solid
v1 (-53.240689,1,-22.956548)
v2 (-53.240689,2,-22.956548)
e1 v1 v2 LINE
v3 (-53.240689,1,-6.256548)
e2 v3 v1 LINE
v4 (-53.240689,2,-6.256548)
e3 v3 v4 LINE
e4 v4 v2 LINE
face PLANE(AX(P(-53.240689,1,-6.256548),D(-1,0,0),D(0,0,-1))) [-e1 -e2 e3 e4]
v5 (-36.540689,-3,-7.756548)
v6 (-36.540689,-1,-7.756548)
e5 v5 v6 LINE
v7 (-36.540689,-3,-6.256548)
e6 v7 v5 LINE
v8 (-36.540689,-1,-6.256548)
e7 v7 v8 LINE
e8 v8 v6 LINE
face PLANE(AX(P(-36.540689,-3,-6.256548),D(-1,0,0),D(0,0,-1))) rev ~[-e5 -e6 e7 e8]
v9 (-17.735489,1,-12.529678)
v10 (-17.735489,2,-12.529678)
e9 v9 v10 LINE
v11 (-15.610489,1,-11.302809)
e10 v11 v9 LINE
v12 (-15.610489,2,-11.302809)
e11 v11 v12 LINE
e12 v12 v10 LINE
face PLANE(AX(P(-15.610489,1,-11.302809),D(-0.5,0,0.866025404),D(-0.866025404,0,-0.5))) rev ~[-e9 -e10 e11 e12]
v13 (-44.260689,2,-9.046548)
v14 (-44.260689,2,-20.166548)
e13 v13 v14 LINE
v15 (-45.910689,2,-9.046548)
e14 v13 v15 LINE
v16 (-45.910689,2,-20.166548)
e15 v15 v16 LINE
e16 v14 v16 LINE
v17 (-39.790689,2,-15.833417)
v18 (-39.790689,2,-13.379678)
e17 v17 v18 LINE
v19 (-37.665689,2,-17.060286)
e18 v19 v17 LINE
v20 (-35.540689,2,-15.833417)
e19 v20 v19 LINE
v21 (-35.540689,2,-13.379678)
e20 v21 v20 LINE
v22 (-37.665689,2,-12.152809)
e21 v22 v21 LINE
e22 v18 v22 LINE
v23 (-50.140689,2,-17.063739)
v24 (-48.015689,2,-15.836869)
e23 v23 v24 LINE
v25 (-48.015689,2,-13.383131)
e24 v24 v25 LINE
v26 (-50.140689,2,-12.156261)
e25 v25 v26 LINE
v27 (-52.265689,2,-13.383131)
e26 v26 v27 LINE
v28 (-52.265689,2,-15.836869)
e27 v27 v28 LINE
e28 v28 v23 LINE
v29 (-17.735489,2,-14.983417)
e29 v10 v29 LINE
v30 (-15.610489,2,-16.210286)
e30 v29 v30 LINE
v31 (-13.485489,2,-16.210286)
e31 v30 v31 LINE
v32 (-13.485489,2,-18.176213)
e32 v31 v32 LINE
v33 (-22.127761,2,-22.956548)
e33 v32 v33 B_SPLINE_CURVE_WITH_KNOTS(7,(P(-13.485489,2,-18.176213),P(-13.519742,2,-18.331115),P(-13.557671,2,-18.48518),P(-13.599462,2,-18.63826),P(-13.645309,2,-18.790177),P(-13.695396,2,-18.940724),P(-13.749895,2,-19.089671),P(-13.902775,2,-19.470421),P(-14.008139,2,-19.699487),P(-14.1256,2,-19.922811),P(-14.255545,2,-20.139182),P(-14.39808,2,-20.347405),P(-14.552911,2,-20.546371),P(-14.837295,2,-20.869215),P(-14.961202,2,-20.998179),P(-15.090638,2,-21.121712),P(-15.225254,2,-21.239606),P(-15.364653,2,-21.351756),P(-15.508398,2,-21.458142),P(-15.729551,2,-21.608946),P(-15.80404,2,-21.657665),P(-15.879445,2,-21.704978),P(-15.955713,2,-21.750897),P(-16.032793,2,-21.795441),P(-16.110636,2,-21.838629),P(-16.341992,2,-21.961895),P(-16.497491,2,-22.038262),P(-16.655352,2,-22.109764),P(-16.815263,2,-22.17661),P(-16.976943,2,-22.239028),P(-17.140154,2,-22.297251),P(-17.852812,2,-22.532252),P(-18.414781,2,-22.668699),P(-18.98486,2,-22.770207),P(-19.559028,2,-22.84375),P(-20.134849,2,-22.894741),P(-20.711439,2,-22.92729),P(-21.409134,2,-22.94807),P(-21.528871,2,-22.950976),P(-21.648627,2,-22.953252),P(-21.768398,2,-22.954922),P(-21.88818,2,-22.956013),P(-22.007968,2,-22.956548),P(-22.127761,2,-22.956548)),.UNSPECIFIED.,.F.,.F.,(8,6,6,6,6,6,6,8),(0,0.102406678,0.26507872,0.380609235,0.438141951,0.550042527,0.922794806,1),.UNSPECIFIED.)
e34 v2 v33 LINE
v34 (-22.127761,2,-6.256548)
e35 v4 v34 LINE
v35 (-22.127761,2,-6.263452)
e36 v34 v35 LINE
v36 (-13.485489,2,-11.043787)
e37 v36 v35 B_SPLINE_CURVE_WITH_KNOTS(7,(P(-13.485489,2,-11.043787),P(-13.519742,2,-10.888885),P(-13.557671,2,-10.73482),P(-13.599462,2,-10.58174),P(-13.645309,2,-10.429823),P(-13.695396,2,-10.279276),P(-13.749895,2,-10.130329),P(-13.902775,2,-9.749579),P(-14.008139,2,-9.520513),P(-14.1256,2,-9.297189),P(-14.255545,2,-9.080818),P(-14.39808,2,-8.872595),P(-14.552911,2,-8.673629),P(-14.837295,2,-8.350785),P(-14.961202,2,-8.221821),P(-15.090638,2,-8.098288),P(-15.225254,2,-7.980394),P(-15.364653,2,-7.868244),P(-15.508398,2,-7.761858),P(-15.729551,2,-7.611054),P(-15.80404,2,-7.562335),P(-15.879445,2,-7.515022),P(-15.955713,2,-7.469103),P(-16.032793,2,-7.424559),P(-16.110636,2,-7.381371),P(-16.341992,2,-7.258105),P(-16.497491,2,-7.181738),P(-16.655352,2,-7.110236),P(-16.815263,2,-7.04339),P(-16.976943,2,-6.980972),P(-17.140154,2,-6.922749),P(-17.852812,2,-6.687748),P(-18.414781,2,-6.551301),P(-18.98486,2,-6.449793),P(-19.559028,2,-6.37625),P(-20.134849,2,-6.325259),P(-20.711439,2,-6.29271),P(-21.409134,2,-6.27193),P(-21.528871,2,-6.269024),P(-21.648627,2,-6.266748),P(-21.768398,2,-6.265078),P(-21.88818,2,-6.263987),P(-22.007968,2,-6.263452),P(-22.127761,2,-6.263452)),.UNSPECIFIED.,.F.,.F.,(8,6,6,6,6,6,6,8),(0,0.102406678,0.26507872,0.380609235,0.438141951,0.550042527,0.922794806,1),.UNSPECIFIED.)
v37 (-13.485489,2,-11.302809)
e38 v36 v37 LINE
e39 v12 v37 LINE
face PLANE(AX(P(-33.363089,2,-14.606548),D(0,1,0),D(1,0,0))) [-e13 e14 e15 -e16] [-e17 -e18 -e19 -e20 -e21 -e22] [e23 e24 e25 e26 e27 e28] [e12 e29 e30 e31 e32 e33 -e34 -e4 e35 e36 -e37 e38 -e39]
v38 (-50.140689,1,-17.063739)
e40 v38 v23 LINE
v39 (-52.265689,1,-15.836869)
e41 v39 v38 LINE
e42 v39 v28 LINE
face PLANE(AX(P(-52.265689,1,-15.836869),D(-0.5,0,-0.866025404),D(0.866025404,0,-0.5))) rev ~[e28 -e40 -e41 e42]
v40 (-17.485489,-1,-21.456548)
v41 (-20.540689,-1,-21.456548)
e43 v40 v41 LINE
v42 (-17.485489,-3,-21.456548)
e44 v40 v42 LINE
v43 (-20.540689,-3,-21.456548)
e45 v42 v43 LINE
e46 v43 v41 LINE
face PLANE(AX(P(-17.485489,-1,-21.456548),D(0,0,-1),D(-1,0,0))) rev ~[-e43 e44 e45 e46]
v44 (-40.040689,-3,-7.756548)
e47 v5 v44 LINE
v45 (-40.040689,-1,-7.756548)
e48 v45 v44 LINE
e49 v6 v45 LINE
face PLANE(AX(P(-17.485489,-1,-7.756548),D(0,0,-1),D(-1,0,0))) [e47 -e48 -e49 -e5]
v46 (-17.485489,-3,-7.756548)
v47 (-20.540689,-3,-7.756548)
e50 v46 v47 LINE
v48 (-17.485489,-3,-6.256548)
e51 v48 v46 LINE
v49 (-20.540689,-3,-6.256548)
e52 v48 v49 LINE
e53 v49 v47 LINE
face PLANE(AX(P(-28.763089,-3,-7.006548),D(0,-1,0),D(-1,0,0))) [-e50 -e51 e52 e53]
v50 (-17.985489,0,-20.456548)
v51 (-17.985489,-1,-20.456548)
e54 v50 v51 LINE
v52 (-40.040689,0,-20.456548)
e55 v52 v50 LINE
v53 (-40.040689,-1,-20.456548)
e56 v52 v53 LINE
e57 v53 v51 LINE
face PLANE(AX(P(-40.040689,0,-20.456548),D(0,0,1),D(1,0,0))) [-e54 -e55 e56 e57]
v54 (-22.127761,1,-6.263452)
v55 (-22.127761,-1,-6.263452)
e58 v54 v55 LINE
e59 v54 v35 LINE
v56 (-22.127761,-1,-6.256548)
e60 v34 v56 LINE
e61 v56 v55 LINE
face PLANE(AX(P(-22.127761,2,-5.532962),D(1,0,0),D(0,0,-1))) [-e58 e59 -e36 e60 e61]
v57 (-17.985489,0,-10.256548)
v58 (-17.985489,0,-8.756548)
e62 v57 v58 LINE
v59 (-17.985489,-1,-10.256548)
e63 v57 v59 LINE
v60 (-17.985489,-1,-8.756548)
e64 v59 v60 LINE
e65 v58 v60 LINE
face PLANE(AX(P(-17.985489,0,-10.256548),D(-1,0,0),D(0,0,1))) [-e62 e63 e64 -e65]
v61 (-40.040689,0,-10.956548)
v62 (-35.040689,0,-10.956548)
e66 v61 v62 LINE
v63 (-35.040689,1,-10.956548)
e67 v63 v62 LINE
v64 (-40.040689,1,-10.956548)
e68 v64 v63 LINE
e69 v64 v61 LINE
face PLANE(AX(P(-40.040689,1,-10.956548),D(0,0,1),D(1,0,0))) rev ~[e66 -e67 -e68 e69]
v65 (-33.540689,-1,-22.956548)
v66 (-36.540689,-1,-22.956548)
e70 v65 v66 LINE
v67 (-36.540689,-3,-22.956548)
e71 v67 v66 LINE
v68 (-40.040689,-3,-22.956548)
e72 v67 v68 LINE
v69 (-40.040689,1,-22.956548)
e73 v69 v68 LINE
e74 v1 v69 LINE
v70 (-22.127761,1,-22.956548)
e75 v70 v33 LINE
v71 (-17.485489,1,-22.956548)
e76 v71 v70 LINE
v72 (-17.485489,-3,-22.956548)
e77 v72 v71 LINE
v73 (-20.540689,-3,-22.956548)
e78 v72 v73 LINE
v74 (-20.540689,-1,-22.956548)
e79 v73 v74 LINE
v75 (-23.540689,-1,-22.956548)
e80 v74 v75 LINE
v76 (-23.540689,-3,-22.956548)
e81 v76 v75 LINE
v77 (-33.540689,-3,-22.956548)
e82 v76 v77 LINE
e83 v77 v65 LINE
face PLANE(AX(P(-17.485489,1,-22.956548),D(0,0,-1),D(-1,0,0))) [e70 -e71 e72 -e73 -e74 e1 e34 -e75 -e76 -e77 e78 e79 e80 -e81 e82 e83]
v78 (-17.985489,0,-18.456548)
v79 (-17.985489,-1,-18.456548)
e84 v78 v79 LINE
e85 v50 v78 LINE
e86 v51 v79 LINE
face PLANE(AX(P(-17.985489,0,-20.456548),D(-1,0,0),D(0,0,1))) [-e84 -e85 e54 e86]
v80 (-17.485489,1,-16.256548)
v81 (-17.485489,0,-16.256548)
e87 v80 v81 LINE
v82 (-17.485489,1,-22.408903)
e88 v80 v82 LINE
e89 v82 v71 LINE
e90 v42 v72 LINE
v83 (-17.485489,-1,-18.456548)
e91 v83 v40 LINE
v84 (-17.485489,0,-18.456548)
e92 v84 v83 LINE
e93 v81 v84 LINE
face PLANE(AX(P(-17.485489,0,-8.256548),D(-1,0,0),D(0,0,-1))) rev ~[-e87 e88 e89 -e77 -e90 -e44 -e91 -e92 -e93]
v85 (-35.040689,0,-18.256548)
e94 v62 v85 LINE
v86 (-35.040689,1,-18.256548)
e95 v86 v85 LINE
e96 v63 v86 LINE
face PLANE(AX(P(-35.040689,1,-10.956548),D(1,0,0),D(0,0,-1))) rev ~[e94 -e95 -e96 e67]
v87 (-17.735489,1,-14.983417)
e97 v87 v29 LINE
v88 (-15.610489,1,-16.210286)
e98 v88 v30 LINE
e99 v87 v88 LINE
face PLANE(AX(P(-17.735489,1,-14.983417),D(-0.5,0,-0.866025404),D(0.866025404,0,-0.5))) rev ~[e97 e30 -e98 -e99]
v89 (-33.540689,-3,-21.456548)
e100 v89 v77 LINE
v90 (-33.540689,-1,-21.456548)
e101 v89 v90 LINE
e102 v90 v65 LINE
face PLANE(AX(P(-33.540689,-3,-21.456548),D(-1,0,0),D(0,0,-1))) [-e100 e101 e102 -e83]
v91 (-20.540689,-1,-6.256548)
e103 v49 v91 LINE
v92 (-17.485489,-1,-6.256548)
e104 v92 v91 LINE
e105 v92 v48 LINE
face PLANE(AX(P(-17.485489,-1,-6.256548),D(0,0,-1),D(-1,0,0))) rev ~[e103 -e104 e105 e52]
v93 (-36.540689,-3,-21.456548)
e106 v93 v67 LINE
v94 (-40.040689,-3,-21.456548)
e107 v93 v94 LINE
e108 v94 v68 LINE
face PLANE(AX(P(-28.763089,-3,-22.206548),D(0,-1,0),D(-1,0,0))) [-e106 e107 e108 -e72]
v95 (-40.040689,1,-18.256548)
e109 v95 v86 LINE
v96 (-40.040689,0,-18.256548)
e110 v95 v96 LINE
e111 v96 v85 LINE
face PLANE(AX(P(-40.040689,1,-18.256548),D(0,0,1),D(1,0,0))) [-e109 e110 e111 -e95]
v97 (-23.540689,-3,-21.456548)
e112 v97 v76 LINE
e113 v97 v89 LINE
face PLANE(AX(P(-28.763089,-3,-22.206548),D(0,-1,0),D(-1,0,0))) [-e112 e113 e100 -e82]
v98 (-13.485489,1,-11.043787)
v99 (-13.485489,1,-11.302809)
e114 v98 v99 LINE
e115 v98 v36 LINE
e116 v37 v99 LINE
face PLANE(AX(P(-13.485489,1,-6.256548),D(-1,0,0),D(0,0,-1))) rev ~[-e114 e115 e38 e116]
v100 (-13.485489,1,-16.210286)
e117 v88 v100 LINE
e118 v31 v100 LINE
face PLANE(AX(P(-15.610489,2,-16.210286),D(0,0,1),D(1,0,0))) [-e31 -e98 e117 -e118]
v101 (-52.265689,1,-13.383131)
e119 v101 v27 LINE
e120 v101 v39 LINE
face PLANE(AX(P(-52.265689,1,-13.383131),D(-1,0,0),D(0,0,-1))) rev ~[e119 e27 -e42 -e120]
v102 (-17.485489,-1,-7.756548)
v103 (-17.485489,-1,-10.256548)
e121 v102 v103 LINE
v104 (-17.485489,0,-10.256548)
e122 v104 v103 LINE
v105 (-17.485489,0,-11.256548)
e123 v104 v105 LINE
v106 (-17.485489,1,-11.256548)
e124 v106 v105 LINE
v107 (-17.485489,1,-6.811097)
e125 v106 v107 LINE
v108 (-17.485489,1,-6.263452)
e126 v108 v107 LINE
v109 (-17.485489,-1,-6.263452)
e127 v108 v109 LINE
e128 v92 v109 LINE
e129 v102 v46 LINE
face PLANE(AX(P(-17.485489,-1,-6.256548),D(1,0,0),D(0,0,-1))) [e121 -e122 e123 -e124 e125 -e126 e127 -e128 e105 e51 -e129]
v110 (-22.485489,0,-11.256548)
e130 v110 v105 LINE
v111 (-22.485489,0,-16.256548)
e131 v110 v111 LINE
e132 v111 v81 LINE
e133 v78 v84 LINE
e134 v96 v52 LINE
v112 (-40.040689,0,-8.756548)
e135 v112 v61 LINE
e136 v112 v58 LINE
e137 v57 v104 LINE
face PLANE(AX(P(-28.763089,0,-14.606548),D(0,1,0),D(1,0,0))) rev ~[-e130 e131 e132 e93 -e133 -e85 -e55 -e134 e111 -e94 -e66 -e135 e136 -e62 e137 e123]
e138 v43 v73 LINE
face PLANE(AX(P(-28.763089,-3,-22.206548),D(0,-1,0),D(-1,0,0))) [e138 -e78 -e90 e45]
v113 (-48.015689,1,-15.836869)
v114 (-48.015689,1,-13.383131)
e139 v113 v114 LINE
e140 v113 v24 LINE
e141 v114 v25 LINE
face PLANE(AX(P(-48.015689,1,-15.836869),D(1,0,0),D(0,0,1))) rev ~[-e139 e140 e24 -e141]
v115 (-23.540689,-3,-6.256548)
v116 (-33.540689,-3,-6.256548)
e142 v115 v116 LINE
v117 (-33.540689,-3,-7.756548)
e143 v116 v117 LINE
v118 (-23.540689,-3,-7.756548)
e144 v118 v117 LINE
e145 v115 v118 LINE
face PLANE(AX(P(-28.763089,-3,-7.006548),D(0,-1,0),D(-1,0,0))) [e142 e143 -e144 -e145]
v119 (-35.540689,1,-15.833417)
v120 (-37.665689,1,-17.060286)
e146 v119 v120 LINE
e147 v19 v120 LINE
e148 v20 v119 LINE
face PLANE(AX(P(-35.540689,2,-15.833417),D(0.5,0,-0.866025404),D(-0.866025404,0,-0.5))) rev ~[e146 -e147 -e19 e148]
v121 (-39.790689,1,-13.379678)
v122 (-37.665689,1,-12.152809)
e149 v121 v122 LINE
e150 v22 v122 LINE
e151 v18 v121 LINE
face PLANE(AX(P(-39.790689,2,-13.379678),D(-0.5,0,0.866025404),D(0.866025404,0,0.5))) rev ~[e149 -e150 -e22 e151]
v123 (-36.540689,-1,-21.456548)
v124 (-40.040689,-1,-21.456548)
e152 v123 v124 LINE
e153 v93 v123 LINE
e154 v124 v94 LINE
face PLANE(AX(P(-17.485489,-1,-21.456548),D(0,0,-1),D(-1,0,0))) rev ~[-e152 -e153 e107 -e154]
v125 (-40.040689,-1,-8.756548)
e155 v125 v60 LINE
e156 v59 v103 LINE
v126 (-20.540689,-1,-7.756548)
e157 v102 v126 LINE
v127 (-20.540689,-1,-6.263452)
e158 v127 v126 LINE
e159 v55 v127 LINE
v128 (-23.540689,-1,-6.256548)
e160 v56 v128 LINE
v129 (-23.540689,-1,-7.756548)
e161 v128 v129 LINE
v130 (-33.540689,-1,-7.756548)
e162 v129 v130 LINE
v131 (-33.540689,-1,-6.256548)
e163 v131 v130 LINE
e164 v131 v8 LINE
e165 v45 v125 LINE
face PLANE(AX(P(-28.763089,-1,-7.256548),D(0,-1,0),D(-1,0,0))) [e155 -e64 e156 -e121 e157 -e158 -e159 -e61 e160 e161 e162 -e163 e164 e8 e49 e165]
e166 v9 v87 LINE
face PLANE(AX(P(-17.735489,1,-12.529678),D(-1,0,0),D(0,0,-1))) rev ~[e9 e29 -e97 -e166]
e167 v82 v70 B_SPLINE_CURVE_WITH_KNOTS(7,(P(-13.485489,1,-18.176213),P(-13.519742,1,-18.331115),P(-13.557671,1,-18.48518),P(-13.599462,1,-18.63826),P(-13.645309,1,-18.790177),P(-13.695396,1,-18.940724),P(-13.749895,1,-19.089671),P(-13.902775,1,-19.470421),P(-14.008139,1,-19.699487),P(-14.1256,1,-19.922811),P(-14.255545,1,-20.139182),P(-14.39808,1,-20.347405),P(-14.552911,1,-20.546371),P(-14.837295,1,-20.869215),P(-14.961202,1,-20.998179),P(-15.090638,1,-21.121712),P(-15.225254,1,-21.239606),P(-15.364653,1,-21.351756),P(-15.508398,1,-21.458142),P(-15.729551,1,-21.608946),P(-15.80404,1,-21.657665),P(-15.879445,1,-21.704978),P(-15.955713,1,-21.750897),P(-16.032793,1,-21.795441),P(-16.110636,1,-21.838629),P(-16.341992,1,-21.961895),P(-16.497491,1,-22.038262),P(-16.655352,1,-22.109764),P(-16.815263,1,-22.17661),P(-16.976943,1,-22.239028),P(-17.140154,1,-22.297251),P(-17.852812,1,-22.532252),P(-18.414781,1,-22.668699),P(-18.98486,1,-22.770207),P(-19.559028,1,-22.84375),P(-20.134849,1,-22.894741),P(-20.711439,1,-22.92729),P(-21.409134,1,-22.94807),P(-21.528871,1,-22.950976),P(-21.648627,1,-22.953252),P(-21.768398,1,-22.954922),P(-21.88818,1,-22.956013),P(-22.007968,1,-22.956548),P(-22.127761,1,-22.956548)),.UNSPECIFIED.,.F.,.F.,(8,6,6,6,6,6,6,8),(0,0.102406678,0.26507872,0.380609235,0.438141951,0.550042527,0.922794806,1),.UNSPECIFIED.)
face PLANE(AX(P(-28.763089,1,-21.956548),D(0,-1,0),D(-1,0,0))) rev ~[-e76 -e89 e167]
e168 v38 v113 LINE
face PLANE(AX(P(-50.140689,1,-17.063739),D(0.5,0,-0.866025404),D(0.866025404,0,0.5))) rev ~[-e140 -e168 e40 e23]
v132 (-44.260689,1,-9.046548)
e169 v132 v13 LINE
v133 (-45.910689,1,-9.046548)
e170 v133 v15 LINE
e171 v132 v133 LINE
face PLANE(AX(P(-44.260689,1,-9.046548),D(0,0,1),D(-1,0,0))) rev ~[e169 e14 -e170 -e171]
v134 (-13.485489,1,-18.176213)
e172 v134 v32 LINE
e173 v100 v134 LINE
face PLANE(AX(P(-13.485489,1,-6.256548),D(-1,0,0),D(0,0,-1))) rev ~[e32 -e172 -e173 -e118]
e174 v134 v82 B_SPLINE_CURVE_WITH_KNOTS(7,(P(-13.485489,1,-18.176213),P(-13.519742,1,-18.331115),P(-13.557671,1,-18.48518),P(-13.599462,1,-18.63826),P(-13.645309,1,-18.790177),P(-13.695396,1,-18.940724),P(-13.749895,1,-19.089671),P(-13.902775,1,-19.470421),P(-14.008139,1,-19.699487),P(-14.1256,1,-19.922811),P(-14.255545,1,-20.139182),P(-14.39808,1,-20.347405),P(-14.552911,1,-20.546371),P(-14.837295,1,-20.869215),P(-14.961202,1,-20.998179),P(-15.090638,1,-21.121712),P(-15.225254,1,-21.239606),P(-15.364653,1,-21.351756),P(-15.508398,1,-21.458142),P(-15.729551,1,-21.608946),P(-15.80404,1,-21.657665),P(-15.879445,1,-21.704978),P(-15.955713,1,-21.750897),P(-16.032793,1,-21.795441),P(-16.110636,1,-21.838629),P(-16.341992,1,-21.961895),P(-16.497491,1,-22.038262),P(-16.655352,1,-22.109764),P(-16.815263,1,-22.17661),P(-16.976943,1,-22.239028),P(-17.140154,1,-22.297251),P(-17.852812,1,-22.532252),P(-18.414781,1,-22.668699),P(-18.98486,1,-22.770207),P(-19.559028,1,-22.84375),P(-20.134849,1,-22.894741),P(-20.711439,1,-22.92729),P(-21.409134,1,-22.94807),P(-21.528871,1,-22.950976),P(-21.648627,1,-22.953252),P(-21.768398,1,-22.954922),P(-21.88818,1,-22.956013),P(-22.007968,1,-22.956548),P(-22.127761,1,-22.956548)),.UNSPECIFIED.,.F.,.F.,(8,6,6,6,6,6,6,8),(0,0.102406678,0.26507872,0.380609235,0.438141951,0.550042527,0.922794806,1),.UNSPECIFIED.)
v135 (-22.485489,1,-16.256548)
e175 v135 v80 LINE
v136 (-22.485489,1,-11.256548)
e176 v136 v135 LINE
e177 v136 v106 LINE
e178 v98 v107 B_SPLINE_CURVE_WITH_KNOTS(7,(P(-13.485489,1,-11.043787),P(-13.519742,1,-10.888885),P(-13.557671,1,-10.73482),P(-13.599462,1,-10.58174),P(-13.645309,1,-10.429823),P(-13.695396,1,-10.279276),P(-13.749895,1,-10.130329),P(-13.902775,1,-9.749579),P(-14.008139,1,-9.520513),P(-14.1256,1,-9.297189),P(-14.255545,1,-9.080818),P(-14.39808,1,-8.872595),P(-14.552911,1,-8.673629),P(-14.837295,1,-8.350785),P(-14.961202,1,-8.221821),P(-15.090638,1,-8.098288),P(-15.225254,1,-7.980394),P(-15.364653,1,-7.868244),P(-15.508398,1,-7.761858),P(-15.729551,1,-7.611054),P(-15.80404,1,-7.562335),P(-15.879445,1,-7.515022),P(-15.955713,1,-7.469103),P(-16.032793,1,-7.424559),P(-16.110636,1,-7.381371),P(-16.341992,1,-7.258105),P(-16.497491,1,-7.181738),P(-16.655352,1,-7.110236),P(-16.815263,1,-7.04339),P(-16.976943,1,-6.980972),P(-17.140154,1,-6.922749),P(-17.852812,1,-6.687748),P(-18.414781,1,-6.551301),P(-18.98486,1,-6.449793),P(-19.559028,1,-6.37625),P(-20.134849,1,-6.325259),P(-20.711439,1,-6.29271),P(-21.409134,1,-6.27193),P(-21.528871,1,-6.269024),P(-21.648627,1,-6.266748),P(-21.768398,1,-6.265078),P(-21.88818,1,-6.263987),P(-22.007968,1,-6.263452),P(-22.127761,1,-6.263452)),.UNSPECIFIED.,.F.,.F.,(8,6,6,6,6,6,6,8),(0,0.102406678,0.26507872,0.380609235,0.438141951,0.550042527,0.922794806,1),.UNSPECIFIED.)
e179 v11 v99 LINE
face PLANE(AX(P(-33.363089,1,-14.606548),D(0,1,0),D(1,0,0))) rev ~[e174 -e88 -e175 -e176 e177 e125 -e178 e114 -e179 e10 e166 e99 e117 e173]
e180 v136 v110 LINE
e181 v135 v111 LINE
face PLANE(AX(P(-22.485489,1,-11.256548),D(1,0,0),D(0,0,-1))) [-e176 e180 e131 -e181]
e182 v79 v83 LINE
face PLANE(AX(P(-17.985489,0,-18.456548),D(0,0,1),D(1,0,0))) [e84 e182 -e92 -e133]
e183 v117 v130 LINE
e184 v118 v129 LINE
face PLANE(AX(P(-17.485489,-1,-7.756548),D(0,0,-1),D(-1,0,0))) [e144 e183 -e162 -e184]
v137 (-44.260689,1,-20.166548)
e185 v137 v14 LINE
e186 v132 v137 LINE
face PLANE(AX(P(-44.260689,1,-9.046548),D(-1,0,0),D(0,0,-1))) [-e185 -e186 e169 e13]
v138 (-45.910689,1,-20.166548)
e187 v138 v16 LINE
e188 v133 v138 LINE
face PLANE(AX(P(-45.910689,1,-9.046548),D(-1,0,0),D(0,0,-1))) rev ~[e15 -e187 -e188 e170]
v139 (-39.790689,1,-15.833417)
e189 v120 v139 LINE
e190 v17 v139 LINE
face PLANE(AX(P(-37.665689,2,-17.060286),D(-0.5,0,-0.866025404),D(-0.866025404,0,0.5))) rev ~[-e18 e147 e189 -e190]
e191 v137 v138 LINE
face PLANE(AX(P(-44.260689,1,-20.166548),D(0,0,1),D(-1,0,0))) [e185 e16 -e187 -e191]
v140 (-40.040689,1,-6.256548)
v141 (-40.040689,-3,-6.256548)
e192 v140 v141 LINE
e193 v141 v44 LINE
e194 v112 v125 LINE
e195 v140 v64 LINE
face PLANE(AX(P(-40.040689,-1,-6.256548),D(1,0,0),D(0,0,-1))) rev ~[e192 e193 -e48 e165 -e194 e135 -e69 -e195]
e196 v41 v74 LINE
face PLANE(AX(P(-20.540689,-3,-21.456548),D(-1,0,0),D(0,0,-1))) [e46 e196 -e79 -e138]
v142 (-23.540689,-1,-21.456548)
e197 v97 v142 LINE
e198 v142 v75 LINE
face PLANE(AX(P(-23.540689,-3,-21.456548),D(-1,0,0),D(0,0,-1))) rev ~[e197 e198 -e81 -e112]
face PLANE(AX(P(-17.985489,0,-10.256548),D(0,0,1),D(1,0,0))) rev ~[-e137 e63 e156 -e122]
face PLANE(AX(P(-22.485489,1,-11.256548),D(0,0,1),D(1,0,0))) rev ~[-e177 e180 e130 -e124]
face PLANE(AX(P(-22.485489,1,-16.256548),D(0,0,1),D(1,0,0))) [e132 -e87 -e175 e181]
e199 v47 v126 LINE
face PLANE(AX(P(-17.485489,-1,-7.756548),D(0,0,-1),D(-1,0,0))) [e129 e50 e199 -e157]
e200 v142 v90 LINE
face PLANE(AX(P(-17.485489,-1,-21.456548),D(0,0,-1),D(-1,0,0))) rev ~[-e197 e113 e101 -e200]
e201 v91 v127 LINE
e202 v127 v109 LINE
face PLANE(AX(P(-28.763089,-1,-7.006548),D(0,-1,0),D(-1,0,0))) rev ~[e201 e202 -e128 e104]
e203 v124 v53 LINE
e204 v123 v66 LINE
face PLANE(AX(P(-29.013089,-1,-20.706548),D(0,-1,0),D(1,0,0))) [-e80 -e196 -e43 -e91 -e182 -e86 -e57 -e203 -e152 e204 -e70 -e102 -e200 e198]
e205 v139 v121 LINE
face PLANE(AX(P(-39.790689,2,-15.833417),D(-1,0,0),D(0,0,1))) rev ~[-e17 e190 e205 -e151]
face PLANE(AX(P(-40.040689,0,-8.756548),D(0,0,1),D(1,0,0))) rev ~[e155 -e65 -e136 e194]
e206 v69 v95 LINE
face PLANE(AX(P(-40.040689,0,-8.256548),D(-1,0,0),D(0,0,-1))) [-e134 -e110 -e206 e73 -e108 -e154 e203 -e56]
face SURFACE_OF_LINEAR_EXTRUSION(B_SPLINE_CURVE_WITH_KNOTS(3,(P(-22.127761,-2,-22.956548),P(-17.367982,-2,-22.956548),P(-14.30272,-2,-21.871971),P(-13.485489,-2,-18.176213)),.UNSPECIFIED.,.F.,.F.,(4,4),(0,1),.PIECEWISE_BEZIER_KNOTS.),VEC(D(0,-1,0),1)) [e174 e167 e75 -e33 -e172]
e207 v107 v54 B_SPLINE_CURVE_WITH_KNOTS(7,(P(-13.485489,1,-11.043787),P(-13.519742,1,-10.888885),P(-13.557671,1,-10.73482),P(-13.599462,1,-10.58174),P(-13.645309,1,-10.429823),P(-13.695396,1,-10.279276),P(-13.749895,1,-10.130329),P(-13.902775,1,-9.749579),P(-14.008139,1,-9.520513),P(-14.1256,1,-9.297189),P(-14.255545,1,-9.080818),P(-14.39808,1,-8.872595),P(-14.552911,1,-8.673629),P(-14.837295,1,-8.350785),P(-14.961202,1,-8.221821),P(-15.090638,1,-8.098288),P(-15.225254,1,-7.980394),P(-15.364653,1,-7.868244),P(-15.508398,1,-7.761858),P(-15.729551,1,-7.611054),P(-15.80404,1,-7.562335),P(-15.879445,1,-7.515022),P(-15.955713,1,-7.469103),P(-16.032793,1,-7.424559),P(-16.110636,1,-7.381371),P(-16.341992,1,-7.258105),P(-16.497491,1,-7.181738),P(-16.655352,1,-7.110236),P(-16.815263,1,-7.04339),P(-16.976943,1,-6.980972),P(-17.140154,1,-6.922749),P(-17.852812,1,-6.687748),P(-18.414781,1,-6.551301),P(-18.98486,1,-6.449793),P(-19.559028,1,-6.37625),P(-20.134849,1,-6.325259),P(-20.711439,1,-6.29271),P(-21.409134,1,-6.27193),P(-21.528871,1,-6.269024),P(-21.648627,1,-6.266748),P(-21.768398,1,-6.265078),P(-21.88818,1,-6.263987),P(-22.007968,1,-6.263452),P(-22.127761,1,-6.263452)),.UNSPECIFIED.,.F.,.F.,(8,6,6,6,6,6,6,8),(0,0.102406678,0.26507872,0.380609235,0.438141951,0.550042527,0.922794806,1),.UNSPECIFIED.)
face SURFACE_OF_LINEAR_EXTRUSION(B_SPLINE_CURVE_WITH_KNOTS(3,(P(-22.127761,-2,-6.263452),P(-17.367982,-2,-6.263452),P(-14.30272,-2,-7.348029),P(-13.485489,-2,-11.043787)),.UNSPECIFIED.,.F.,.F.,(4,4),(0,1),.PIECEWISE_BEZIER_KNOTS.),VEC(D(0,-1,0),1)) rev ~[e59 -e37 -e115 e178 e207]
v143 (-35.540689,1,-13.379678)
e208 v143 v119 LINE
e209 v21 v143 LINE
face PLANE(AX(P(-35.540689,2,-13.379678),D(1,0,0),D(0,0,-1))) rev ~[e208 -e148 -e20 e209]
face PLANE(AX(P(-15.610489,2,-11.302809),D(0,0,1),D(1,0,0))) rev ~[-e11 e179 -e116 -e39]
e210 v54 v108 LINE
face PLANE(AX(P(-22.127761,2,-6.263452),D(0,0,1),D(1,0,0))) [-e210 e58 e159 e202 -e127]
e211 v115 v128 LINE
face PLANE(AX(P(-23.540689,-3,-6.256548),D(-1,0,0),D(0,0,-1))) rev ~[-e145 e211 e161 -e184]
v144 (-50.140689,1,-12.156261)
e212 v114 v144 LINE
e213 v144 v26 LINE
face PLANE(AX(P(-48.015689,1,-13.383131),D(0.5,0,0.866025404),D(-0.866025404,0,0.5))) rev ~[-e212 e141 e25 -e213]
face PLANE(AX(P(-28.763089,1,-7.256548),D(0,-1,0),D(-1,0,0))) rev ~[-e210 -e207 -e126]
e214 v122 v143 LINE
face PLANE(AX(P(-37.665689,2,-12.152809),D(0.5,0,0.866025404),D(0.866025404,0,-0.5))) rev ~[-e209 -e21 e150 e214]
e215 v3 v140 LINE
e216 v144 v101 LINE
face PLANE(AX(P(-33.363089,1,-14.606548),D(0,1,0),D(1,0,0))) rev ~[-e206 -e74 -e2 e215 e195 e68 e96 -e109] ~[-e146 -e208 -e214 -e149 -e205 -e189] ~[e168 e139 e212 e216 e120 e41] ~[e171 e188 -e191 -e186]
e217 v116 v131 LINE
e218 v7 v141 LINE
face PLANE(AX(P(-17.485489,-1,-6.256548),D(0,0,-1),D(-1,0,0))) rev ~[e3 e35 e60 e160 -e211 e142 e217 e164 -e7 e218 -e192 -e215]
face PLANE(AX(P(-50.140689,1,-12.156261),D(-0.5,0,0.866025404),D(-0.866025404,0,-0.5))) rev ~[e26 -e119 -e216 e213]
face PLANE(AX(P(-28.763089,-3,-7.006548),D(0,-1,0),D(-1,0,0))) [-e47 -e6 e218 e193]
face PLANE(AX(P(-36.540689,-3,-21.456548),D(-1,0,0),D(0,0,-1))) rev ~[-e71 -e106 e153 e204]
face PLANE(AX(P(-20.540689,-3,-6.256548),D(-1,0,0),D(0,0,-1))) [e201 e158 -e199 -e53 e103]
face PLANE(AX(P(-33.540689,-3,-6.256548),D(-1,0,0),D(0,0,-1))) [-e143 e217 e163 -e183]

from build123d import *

# Parameters (mm, degrees)
SKETCH1_W              = 22.5552
SKETCH1_H              = 12.7
BOSS_EXTRUDE1_DEPTH    = 1
SKETCH2_W              = 5
SKETCH2_H              = 7.3
CUT_EXTRUDE1_DEPTH     = 1
SKETCH3_W              = 5
SKETCH3_H              = 5
CUT_EXTRUDE2_DEPTH     = 1
SKETCH4_W              = 22.0552
SKETCH4_H              = 0.5
SKETCH4_W_2            = 0.5
SKETCH4_H_2            = 1.5
SKETCH4_H_3            = 2
BOSS_EXTRUDE2_DEPTH    = 1
SKETCH5_W              = 39.7552
SKETCH5_H              = 16.7
BOSS_EXTRUDE3_DEPTH    = 1
CUT_EXTRUDE3_DEPTH     = 1
CUT_EXTRUDE4_DEPTH     = 1
CUT_EXTRUDE5_START     = -4
CUT_EXTRUDE5_DEPTH     = 5
SKETCH10_W             = 22.5552
SKETCH10_H             = 2
BOSS_EXTRUDE4_DEPTH    = 2
SKETCH11_W             = 8.919893548
SKETCH11_H             = 0.730490532
CUT_EXTRUDE6_DEPTH     = 3
SKETCH12_W             = 22.5552
SKETCH12_H             = 1.5
BOSS_EXTRUDE5_DEPTH    = 2
SKETCH13_W             = 3
SKETCH13_H             = 1.5
CUT_EXTRUDE7_DEPTH     = 2
SKETCH14_W             = 2.125
SKETCH14_H             = 1.226869322
CUT_EXTRUDE8_DEPTH     = 1
SKETCH15_W             = 1.65
SKETCH15_H             = 11.12
ADAPTER_PCB_HOLE_DEPTH = 1
CUT_EXTRUDE10_DEPTH    = 1


with BuildPart() as part:
    # Sketch1 → Boss-Extrude1 (new body)
    with BuildSketch(Plane(origin=(0, 0, 0), x_dir=(1, 0, 0), z_dir=(0, 1, 0))):
        with Locations((-28.763088774, 14.606547542)):
            Rectangle(SKETCH1_W, SKETCH1_H)
    extrude(amount=BOSS_EXTRUDE1_DEPTH)

    # Sketch2 → Cut-Extrude1 (cut)
    with BuildSketch(Plane(origin=(0, 1, 0), x_dir=(1, 0, 0), z_dir=(0, 1, 0))):
        with Locations((-37.540688774, 14.606547542)):
            Rectangle(SKETCH2_W, SKETCH2_H)
    extrude(amount=-CUT_EXTRUDE1_DEPTH, mode=Mode.SUBTRACT)

    # Sketch3 → Cut-Extrude2 (cut)
    with BuildSketch(Plane(origin=(0, 1, 0), x_dir=(1, 0, 0), z_dir=(0, 1, 0))):
        with Locations((-19.985488774, 13.756547542)):
            Rectangle(SKETCH3_W, SKETCH3_H)
    extrude(amount=-CUT_EXTRUDE2_DEPTH, mode=Mode.SUBTRACT)

    # Sketch4 → Boss-Extrude2 (add)
    with BuildSketch(Plane.XZ):
        with Locations((-29.013088774, -8.506547542)):
            Rectangle(SKETCH4_W, SKETCH4_H)
        with Locations((-17.735488774, -8.506547542)):
            Rectangle(SKETCH4_W_2, SKETCH4_H)
        with Locations((-17.735488774, -9.506547542)):
            Rectangle(SKETCH4_W_2, SKETCH4_H_2)
        with Locations((-29.013088774, -20.706547542)):
            Rectangle(SKETCH4_W, SKETCH4_H)
        with Locations((-17.735488774, -19.456547542)):
            Rectangle(SKETCH4_W_2, SKETCH4_H_3)
        with Locations((-17.735488774, -20.706547542)):
            Rectangle(SKETCH4_W_2, SKETCH4_H)
    extrude(amount=BOSS_EXTRUDE2_DEPTH)

    # Sketch5 → Boss-Extrude3 (add)
    with BuildSketch(Plane(origin=(0, 1, 0), x_dir=(1, 0, 0), z_dir=(0, 1, 0))):
        with Locations((-33.363088774, 14.606547542)):
            Rectangle(SKETCH5_W, SKETCH5_H)
    extrude(amount=BOSS_EXTRUDE3_DEPTH)

    # Sketch6 → Cut-Extrude3 (cut)
    with BuildSketch(Plane(origin=(0, 2, 0), x_dir=(1, 0, 0), z_dir=(0, 1, 0))):
        Polygon((-39.790688774, 13.37967822), (-37.665688774, 12.152808898), (-35.540688774, 13.37967822), (-35.540688774, 15.833416864), (-37.665688774, 17.060286186), (-39.790688774, 15.833416864), align=None)
    extrude(amount=-CUT_EXTRUDE3_DEPTH, mode=Mode.SUBTRACT)

    # Sketch7 → Cut-Extrude4 (cut)
    with BuildSketch(Plane(origin=(0, 1, 0), x_dir=(-1, 0, 0), z_dir=(0, -1, 0))):
        Polygon((17.735488774, 14.983416864), (15.610488774, 16.210286186), (13.485488774, 14.983416864), (13.485488774, 12.52967822), (15.610488774, 11.302808898), (17.735488774, 12.52967822), align=None)
    extrude(amount=-CUT_EXTRUDE4_DEPTH, mode=Mode.SUBTRACT)

    # Sketch8 → Cut-Extrude5 (cut)
    with BuildSketch(Plane(origin=(0, 2, 0), x_dir=(1, 0, 0), z_dir=(0, 1, 0)).offset(CUT_EXTRUDE5_START)):
        with BuildLine():
            Line((-13.485488774, 22.956547542), (-22.127760886, 22.956547542))
            add(Edge.make_bspline(
                [(-22.127760886, 22.956547542), (-17.367981555, 22.956547542), (-14.30272025, 21.87197064), (-13.485488774, 18.176213027)],
                knots=[0, 0, 0, 0, 1, 1, 1, 1], degree=3))
            Line((-13.485488774, 18.176213027), (-13.485488774, 22.956547542))
        make_face()
    cut_extrude5 = extrude(amount=CUT_EXTRUDE5_DEPTH, mode=Mode.SUBTRACT)

    # Mirror2: Cut-Extrude5 across plane
    add(cut_extrude5.mirror(Plane.XY.offset(-14.61)), mode=Mode.SUBTRACT)

    # Sketch10 → Boss-Extrude4 (add)
    with BuildSketch(Plane(origin=(0, 1, 0), x_dir=(-1, 0, 0), z_dir=(0, -1, 0))):
        with Locations((28.763088774, 7.256547542)):
            Rectangle(SKETCH10_W, SKETCH10_H)
        with Locations((28.763088774, 21.956547542)):
            Rectangle(SKETCH10_W, SKETCH10_H)
    extrude(amount=BOSS_EXTRUDE4_DEPTH)

    # Sketch11 → Cut-Extrude6 (cut)
    with BuildSketch(Plane(origin=(0, 2, 0), x_dir=(1, 0, 0), z_dir=(0, 1, 0))):
        with Locations((-17.667814112, 5.898207192)):
            Rectangle(SKETCH11_W, SKETCH11_H)
    extrude(amount=-CUT_EXTRUDE6_DEPTH, mode=Mode.SUBTRACT)

    # Sketch12 → Boss-Extrude5 (add)
    with BuildSketch(Plane(origin=(0, -1, 0), x_dir=(-1, 0, 0), z_dir=(0, -1, 0))):
        with Locations((28.763088774, 7.006547542)):
            Rectangle(SKETCH12_W, SKETCH12_H)
        with Locations((28.763088774, 22.206547542)):
            Rectangle(SKETCH12_W, SKETCH12_H)
    extrude(amount=BOSS_EXTRUDE5_DEPTH)

    # Sketch13 → Cut-Extrude7 (cut)
    with BuildSketch(Plane(origin=(0, -3, 0), x_dir=(-1, 0, 0), z_dir=(0, -1, 0))):
        with Locations((35.040688774, 7.006547542)):
            Rectangle(SKETCH13_W, SKETCH13_H)
        with Locations((35.040688774, 22.206547542)):
            Rectangle(SKETCH13_W, SKETCH13_H)
        with Locations((22.040688774, 7.006547542)):
            Rectangle(SKETCH13_W, SKETCH13_H)
        with Locations((22.040688774, 22.206547542)):
            Rectangle(SKETCH13_W, SKETCH13_H)
    extrude(amount=-CUT_EXTRUDE7_DEPTH, mode=Mode.SUBTRACT)

    # Sketch14 → Cut-Extrude8 (cut)
    with BuildSketch(Plane(origin=(0, 2, 0), x_dir=(1, 0, 0), z_dir=(0, 1, 0))):
        with Locations((-14.547988774, 15.596851525)):
            Rectangle(SKETCH14_W, SKETCH14_H)
        with Locations((-14.547988774, 11.916243559)):
            Rectangle(SKETCH14_W, SKETCH14_H)
    extrude(amount=-CUT_EXTRUDE8_DEPTH, mode=Mode.SUBTRACT)

    # Sketch15 → adapter_PCB_hole (cut)
    with BuildSketch(Plane(origin=(0, 1, 0), x_dir=(-1, 0, 0), z_dir=(0, -1, 0))):
        with Locations((45.085688774, 14.606547542)):
            Rectangle(SKETCH15_W, SKETCH15_H)
    extrude(amount=-ADAPTER_PCB_HOLE_DEPTH, mode=Mode.SUBTRACT)

    # Sketch22 → Cut-Extrude10 (cut)
    with BuildSketch(Plane(origin=(0, 1, 0), x_dir=(-1, 0, 0), z_dir=(0, -1, 0))):
        Polygon((52.265688774, 15.836869322), (50.140688774, 17.063738644), (48.015688774, 15.836869322), (48.015688774, 13.383130678), (50.140688774, 12.156261356), (52.265688774, 13.383130678), align=None)
    extrude(amount=-CUT_EXTRUDE10_DEPTH, mode=Mode.SUBTRACT)


solid = part.part
